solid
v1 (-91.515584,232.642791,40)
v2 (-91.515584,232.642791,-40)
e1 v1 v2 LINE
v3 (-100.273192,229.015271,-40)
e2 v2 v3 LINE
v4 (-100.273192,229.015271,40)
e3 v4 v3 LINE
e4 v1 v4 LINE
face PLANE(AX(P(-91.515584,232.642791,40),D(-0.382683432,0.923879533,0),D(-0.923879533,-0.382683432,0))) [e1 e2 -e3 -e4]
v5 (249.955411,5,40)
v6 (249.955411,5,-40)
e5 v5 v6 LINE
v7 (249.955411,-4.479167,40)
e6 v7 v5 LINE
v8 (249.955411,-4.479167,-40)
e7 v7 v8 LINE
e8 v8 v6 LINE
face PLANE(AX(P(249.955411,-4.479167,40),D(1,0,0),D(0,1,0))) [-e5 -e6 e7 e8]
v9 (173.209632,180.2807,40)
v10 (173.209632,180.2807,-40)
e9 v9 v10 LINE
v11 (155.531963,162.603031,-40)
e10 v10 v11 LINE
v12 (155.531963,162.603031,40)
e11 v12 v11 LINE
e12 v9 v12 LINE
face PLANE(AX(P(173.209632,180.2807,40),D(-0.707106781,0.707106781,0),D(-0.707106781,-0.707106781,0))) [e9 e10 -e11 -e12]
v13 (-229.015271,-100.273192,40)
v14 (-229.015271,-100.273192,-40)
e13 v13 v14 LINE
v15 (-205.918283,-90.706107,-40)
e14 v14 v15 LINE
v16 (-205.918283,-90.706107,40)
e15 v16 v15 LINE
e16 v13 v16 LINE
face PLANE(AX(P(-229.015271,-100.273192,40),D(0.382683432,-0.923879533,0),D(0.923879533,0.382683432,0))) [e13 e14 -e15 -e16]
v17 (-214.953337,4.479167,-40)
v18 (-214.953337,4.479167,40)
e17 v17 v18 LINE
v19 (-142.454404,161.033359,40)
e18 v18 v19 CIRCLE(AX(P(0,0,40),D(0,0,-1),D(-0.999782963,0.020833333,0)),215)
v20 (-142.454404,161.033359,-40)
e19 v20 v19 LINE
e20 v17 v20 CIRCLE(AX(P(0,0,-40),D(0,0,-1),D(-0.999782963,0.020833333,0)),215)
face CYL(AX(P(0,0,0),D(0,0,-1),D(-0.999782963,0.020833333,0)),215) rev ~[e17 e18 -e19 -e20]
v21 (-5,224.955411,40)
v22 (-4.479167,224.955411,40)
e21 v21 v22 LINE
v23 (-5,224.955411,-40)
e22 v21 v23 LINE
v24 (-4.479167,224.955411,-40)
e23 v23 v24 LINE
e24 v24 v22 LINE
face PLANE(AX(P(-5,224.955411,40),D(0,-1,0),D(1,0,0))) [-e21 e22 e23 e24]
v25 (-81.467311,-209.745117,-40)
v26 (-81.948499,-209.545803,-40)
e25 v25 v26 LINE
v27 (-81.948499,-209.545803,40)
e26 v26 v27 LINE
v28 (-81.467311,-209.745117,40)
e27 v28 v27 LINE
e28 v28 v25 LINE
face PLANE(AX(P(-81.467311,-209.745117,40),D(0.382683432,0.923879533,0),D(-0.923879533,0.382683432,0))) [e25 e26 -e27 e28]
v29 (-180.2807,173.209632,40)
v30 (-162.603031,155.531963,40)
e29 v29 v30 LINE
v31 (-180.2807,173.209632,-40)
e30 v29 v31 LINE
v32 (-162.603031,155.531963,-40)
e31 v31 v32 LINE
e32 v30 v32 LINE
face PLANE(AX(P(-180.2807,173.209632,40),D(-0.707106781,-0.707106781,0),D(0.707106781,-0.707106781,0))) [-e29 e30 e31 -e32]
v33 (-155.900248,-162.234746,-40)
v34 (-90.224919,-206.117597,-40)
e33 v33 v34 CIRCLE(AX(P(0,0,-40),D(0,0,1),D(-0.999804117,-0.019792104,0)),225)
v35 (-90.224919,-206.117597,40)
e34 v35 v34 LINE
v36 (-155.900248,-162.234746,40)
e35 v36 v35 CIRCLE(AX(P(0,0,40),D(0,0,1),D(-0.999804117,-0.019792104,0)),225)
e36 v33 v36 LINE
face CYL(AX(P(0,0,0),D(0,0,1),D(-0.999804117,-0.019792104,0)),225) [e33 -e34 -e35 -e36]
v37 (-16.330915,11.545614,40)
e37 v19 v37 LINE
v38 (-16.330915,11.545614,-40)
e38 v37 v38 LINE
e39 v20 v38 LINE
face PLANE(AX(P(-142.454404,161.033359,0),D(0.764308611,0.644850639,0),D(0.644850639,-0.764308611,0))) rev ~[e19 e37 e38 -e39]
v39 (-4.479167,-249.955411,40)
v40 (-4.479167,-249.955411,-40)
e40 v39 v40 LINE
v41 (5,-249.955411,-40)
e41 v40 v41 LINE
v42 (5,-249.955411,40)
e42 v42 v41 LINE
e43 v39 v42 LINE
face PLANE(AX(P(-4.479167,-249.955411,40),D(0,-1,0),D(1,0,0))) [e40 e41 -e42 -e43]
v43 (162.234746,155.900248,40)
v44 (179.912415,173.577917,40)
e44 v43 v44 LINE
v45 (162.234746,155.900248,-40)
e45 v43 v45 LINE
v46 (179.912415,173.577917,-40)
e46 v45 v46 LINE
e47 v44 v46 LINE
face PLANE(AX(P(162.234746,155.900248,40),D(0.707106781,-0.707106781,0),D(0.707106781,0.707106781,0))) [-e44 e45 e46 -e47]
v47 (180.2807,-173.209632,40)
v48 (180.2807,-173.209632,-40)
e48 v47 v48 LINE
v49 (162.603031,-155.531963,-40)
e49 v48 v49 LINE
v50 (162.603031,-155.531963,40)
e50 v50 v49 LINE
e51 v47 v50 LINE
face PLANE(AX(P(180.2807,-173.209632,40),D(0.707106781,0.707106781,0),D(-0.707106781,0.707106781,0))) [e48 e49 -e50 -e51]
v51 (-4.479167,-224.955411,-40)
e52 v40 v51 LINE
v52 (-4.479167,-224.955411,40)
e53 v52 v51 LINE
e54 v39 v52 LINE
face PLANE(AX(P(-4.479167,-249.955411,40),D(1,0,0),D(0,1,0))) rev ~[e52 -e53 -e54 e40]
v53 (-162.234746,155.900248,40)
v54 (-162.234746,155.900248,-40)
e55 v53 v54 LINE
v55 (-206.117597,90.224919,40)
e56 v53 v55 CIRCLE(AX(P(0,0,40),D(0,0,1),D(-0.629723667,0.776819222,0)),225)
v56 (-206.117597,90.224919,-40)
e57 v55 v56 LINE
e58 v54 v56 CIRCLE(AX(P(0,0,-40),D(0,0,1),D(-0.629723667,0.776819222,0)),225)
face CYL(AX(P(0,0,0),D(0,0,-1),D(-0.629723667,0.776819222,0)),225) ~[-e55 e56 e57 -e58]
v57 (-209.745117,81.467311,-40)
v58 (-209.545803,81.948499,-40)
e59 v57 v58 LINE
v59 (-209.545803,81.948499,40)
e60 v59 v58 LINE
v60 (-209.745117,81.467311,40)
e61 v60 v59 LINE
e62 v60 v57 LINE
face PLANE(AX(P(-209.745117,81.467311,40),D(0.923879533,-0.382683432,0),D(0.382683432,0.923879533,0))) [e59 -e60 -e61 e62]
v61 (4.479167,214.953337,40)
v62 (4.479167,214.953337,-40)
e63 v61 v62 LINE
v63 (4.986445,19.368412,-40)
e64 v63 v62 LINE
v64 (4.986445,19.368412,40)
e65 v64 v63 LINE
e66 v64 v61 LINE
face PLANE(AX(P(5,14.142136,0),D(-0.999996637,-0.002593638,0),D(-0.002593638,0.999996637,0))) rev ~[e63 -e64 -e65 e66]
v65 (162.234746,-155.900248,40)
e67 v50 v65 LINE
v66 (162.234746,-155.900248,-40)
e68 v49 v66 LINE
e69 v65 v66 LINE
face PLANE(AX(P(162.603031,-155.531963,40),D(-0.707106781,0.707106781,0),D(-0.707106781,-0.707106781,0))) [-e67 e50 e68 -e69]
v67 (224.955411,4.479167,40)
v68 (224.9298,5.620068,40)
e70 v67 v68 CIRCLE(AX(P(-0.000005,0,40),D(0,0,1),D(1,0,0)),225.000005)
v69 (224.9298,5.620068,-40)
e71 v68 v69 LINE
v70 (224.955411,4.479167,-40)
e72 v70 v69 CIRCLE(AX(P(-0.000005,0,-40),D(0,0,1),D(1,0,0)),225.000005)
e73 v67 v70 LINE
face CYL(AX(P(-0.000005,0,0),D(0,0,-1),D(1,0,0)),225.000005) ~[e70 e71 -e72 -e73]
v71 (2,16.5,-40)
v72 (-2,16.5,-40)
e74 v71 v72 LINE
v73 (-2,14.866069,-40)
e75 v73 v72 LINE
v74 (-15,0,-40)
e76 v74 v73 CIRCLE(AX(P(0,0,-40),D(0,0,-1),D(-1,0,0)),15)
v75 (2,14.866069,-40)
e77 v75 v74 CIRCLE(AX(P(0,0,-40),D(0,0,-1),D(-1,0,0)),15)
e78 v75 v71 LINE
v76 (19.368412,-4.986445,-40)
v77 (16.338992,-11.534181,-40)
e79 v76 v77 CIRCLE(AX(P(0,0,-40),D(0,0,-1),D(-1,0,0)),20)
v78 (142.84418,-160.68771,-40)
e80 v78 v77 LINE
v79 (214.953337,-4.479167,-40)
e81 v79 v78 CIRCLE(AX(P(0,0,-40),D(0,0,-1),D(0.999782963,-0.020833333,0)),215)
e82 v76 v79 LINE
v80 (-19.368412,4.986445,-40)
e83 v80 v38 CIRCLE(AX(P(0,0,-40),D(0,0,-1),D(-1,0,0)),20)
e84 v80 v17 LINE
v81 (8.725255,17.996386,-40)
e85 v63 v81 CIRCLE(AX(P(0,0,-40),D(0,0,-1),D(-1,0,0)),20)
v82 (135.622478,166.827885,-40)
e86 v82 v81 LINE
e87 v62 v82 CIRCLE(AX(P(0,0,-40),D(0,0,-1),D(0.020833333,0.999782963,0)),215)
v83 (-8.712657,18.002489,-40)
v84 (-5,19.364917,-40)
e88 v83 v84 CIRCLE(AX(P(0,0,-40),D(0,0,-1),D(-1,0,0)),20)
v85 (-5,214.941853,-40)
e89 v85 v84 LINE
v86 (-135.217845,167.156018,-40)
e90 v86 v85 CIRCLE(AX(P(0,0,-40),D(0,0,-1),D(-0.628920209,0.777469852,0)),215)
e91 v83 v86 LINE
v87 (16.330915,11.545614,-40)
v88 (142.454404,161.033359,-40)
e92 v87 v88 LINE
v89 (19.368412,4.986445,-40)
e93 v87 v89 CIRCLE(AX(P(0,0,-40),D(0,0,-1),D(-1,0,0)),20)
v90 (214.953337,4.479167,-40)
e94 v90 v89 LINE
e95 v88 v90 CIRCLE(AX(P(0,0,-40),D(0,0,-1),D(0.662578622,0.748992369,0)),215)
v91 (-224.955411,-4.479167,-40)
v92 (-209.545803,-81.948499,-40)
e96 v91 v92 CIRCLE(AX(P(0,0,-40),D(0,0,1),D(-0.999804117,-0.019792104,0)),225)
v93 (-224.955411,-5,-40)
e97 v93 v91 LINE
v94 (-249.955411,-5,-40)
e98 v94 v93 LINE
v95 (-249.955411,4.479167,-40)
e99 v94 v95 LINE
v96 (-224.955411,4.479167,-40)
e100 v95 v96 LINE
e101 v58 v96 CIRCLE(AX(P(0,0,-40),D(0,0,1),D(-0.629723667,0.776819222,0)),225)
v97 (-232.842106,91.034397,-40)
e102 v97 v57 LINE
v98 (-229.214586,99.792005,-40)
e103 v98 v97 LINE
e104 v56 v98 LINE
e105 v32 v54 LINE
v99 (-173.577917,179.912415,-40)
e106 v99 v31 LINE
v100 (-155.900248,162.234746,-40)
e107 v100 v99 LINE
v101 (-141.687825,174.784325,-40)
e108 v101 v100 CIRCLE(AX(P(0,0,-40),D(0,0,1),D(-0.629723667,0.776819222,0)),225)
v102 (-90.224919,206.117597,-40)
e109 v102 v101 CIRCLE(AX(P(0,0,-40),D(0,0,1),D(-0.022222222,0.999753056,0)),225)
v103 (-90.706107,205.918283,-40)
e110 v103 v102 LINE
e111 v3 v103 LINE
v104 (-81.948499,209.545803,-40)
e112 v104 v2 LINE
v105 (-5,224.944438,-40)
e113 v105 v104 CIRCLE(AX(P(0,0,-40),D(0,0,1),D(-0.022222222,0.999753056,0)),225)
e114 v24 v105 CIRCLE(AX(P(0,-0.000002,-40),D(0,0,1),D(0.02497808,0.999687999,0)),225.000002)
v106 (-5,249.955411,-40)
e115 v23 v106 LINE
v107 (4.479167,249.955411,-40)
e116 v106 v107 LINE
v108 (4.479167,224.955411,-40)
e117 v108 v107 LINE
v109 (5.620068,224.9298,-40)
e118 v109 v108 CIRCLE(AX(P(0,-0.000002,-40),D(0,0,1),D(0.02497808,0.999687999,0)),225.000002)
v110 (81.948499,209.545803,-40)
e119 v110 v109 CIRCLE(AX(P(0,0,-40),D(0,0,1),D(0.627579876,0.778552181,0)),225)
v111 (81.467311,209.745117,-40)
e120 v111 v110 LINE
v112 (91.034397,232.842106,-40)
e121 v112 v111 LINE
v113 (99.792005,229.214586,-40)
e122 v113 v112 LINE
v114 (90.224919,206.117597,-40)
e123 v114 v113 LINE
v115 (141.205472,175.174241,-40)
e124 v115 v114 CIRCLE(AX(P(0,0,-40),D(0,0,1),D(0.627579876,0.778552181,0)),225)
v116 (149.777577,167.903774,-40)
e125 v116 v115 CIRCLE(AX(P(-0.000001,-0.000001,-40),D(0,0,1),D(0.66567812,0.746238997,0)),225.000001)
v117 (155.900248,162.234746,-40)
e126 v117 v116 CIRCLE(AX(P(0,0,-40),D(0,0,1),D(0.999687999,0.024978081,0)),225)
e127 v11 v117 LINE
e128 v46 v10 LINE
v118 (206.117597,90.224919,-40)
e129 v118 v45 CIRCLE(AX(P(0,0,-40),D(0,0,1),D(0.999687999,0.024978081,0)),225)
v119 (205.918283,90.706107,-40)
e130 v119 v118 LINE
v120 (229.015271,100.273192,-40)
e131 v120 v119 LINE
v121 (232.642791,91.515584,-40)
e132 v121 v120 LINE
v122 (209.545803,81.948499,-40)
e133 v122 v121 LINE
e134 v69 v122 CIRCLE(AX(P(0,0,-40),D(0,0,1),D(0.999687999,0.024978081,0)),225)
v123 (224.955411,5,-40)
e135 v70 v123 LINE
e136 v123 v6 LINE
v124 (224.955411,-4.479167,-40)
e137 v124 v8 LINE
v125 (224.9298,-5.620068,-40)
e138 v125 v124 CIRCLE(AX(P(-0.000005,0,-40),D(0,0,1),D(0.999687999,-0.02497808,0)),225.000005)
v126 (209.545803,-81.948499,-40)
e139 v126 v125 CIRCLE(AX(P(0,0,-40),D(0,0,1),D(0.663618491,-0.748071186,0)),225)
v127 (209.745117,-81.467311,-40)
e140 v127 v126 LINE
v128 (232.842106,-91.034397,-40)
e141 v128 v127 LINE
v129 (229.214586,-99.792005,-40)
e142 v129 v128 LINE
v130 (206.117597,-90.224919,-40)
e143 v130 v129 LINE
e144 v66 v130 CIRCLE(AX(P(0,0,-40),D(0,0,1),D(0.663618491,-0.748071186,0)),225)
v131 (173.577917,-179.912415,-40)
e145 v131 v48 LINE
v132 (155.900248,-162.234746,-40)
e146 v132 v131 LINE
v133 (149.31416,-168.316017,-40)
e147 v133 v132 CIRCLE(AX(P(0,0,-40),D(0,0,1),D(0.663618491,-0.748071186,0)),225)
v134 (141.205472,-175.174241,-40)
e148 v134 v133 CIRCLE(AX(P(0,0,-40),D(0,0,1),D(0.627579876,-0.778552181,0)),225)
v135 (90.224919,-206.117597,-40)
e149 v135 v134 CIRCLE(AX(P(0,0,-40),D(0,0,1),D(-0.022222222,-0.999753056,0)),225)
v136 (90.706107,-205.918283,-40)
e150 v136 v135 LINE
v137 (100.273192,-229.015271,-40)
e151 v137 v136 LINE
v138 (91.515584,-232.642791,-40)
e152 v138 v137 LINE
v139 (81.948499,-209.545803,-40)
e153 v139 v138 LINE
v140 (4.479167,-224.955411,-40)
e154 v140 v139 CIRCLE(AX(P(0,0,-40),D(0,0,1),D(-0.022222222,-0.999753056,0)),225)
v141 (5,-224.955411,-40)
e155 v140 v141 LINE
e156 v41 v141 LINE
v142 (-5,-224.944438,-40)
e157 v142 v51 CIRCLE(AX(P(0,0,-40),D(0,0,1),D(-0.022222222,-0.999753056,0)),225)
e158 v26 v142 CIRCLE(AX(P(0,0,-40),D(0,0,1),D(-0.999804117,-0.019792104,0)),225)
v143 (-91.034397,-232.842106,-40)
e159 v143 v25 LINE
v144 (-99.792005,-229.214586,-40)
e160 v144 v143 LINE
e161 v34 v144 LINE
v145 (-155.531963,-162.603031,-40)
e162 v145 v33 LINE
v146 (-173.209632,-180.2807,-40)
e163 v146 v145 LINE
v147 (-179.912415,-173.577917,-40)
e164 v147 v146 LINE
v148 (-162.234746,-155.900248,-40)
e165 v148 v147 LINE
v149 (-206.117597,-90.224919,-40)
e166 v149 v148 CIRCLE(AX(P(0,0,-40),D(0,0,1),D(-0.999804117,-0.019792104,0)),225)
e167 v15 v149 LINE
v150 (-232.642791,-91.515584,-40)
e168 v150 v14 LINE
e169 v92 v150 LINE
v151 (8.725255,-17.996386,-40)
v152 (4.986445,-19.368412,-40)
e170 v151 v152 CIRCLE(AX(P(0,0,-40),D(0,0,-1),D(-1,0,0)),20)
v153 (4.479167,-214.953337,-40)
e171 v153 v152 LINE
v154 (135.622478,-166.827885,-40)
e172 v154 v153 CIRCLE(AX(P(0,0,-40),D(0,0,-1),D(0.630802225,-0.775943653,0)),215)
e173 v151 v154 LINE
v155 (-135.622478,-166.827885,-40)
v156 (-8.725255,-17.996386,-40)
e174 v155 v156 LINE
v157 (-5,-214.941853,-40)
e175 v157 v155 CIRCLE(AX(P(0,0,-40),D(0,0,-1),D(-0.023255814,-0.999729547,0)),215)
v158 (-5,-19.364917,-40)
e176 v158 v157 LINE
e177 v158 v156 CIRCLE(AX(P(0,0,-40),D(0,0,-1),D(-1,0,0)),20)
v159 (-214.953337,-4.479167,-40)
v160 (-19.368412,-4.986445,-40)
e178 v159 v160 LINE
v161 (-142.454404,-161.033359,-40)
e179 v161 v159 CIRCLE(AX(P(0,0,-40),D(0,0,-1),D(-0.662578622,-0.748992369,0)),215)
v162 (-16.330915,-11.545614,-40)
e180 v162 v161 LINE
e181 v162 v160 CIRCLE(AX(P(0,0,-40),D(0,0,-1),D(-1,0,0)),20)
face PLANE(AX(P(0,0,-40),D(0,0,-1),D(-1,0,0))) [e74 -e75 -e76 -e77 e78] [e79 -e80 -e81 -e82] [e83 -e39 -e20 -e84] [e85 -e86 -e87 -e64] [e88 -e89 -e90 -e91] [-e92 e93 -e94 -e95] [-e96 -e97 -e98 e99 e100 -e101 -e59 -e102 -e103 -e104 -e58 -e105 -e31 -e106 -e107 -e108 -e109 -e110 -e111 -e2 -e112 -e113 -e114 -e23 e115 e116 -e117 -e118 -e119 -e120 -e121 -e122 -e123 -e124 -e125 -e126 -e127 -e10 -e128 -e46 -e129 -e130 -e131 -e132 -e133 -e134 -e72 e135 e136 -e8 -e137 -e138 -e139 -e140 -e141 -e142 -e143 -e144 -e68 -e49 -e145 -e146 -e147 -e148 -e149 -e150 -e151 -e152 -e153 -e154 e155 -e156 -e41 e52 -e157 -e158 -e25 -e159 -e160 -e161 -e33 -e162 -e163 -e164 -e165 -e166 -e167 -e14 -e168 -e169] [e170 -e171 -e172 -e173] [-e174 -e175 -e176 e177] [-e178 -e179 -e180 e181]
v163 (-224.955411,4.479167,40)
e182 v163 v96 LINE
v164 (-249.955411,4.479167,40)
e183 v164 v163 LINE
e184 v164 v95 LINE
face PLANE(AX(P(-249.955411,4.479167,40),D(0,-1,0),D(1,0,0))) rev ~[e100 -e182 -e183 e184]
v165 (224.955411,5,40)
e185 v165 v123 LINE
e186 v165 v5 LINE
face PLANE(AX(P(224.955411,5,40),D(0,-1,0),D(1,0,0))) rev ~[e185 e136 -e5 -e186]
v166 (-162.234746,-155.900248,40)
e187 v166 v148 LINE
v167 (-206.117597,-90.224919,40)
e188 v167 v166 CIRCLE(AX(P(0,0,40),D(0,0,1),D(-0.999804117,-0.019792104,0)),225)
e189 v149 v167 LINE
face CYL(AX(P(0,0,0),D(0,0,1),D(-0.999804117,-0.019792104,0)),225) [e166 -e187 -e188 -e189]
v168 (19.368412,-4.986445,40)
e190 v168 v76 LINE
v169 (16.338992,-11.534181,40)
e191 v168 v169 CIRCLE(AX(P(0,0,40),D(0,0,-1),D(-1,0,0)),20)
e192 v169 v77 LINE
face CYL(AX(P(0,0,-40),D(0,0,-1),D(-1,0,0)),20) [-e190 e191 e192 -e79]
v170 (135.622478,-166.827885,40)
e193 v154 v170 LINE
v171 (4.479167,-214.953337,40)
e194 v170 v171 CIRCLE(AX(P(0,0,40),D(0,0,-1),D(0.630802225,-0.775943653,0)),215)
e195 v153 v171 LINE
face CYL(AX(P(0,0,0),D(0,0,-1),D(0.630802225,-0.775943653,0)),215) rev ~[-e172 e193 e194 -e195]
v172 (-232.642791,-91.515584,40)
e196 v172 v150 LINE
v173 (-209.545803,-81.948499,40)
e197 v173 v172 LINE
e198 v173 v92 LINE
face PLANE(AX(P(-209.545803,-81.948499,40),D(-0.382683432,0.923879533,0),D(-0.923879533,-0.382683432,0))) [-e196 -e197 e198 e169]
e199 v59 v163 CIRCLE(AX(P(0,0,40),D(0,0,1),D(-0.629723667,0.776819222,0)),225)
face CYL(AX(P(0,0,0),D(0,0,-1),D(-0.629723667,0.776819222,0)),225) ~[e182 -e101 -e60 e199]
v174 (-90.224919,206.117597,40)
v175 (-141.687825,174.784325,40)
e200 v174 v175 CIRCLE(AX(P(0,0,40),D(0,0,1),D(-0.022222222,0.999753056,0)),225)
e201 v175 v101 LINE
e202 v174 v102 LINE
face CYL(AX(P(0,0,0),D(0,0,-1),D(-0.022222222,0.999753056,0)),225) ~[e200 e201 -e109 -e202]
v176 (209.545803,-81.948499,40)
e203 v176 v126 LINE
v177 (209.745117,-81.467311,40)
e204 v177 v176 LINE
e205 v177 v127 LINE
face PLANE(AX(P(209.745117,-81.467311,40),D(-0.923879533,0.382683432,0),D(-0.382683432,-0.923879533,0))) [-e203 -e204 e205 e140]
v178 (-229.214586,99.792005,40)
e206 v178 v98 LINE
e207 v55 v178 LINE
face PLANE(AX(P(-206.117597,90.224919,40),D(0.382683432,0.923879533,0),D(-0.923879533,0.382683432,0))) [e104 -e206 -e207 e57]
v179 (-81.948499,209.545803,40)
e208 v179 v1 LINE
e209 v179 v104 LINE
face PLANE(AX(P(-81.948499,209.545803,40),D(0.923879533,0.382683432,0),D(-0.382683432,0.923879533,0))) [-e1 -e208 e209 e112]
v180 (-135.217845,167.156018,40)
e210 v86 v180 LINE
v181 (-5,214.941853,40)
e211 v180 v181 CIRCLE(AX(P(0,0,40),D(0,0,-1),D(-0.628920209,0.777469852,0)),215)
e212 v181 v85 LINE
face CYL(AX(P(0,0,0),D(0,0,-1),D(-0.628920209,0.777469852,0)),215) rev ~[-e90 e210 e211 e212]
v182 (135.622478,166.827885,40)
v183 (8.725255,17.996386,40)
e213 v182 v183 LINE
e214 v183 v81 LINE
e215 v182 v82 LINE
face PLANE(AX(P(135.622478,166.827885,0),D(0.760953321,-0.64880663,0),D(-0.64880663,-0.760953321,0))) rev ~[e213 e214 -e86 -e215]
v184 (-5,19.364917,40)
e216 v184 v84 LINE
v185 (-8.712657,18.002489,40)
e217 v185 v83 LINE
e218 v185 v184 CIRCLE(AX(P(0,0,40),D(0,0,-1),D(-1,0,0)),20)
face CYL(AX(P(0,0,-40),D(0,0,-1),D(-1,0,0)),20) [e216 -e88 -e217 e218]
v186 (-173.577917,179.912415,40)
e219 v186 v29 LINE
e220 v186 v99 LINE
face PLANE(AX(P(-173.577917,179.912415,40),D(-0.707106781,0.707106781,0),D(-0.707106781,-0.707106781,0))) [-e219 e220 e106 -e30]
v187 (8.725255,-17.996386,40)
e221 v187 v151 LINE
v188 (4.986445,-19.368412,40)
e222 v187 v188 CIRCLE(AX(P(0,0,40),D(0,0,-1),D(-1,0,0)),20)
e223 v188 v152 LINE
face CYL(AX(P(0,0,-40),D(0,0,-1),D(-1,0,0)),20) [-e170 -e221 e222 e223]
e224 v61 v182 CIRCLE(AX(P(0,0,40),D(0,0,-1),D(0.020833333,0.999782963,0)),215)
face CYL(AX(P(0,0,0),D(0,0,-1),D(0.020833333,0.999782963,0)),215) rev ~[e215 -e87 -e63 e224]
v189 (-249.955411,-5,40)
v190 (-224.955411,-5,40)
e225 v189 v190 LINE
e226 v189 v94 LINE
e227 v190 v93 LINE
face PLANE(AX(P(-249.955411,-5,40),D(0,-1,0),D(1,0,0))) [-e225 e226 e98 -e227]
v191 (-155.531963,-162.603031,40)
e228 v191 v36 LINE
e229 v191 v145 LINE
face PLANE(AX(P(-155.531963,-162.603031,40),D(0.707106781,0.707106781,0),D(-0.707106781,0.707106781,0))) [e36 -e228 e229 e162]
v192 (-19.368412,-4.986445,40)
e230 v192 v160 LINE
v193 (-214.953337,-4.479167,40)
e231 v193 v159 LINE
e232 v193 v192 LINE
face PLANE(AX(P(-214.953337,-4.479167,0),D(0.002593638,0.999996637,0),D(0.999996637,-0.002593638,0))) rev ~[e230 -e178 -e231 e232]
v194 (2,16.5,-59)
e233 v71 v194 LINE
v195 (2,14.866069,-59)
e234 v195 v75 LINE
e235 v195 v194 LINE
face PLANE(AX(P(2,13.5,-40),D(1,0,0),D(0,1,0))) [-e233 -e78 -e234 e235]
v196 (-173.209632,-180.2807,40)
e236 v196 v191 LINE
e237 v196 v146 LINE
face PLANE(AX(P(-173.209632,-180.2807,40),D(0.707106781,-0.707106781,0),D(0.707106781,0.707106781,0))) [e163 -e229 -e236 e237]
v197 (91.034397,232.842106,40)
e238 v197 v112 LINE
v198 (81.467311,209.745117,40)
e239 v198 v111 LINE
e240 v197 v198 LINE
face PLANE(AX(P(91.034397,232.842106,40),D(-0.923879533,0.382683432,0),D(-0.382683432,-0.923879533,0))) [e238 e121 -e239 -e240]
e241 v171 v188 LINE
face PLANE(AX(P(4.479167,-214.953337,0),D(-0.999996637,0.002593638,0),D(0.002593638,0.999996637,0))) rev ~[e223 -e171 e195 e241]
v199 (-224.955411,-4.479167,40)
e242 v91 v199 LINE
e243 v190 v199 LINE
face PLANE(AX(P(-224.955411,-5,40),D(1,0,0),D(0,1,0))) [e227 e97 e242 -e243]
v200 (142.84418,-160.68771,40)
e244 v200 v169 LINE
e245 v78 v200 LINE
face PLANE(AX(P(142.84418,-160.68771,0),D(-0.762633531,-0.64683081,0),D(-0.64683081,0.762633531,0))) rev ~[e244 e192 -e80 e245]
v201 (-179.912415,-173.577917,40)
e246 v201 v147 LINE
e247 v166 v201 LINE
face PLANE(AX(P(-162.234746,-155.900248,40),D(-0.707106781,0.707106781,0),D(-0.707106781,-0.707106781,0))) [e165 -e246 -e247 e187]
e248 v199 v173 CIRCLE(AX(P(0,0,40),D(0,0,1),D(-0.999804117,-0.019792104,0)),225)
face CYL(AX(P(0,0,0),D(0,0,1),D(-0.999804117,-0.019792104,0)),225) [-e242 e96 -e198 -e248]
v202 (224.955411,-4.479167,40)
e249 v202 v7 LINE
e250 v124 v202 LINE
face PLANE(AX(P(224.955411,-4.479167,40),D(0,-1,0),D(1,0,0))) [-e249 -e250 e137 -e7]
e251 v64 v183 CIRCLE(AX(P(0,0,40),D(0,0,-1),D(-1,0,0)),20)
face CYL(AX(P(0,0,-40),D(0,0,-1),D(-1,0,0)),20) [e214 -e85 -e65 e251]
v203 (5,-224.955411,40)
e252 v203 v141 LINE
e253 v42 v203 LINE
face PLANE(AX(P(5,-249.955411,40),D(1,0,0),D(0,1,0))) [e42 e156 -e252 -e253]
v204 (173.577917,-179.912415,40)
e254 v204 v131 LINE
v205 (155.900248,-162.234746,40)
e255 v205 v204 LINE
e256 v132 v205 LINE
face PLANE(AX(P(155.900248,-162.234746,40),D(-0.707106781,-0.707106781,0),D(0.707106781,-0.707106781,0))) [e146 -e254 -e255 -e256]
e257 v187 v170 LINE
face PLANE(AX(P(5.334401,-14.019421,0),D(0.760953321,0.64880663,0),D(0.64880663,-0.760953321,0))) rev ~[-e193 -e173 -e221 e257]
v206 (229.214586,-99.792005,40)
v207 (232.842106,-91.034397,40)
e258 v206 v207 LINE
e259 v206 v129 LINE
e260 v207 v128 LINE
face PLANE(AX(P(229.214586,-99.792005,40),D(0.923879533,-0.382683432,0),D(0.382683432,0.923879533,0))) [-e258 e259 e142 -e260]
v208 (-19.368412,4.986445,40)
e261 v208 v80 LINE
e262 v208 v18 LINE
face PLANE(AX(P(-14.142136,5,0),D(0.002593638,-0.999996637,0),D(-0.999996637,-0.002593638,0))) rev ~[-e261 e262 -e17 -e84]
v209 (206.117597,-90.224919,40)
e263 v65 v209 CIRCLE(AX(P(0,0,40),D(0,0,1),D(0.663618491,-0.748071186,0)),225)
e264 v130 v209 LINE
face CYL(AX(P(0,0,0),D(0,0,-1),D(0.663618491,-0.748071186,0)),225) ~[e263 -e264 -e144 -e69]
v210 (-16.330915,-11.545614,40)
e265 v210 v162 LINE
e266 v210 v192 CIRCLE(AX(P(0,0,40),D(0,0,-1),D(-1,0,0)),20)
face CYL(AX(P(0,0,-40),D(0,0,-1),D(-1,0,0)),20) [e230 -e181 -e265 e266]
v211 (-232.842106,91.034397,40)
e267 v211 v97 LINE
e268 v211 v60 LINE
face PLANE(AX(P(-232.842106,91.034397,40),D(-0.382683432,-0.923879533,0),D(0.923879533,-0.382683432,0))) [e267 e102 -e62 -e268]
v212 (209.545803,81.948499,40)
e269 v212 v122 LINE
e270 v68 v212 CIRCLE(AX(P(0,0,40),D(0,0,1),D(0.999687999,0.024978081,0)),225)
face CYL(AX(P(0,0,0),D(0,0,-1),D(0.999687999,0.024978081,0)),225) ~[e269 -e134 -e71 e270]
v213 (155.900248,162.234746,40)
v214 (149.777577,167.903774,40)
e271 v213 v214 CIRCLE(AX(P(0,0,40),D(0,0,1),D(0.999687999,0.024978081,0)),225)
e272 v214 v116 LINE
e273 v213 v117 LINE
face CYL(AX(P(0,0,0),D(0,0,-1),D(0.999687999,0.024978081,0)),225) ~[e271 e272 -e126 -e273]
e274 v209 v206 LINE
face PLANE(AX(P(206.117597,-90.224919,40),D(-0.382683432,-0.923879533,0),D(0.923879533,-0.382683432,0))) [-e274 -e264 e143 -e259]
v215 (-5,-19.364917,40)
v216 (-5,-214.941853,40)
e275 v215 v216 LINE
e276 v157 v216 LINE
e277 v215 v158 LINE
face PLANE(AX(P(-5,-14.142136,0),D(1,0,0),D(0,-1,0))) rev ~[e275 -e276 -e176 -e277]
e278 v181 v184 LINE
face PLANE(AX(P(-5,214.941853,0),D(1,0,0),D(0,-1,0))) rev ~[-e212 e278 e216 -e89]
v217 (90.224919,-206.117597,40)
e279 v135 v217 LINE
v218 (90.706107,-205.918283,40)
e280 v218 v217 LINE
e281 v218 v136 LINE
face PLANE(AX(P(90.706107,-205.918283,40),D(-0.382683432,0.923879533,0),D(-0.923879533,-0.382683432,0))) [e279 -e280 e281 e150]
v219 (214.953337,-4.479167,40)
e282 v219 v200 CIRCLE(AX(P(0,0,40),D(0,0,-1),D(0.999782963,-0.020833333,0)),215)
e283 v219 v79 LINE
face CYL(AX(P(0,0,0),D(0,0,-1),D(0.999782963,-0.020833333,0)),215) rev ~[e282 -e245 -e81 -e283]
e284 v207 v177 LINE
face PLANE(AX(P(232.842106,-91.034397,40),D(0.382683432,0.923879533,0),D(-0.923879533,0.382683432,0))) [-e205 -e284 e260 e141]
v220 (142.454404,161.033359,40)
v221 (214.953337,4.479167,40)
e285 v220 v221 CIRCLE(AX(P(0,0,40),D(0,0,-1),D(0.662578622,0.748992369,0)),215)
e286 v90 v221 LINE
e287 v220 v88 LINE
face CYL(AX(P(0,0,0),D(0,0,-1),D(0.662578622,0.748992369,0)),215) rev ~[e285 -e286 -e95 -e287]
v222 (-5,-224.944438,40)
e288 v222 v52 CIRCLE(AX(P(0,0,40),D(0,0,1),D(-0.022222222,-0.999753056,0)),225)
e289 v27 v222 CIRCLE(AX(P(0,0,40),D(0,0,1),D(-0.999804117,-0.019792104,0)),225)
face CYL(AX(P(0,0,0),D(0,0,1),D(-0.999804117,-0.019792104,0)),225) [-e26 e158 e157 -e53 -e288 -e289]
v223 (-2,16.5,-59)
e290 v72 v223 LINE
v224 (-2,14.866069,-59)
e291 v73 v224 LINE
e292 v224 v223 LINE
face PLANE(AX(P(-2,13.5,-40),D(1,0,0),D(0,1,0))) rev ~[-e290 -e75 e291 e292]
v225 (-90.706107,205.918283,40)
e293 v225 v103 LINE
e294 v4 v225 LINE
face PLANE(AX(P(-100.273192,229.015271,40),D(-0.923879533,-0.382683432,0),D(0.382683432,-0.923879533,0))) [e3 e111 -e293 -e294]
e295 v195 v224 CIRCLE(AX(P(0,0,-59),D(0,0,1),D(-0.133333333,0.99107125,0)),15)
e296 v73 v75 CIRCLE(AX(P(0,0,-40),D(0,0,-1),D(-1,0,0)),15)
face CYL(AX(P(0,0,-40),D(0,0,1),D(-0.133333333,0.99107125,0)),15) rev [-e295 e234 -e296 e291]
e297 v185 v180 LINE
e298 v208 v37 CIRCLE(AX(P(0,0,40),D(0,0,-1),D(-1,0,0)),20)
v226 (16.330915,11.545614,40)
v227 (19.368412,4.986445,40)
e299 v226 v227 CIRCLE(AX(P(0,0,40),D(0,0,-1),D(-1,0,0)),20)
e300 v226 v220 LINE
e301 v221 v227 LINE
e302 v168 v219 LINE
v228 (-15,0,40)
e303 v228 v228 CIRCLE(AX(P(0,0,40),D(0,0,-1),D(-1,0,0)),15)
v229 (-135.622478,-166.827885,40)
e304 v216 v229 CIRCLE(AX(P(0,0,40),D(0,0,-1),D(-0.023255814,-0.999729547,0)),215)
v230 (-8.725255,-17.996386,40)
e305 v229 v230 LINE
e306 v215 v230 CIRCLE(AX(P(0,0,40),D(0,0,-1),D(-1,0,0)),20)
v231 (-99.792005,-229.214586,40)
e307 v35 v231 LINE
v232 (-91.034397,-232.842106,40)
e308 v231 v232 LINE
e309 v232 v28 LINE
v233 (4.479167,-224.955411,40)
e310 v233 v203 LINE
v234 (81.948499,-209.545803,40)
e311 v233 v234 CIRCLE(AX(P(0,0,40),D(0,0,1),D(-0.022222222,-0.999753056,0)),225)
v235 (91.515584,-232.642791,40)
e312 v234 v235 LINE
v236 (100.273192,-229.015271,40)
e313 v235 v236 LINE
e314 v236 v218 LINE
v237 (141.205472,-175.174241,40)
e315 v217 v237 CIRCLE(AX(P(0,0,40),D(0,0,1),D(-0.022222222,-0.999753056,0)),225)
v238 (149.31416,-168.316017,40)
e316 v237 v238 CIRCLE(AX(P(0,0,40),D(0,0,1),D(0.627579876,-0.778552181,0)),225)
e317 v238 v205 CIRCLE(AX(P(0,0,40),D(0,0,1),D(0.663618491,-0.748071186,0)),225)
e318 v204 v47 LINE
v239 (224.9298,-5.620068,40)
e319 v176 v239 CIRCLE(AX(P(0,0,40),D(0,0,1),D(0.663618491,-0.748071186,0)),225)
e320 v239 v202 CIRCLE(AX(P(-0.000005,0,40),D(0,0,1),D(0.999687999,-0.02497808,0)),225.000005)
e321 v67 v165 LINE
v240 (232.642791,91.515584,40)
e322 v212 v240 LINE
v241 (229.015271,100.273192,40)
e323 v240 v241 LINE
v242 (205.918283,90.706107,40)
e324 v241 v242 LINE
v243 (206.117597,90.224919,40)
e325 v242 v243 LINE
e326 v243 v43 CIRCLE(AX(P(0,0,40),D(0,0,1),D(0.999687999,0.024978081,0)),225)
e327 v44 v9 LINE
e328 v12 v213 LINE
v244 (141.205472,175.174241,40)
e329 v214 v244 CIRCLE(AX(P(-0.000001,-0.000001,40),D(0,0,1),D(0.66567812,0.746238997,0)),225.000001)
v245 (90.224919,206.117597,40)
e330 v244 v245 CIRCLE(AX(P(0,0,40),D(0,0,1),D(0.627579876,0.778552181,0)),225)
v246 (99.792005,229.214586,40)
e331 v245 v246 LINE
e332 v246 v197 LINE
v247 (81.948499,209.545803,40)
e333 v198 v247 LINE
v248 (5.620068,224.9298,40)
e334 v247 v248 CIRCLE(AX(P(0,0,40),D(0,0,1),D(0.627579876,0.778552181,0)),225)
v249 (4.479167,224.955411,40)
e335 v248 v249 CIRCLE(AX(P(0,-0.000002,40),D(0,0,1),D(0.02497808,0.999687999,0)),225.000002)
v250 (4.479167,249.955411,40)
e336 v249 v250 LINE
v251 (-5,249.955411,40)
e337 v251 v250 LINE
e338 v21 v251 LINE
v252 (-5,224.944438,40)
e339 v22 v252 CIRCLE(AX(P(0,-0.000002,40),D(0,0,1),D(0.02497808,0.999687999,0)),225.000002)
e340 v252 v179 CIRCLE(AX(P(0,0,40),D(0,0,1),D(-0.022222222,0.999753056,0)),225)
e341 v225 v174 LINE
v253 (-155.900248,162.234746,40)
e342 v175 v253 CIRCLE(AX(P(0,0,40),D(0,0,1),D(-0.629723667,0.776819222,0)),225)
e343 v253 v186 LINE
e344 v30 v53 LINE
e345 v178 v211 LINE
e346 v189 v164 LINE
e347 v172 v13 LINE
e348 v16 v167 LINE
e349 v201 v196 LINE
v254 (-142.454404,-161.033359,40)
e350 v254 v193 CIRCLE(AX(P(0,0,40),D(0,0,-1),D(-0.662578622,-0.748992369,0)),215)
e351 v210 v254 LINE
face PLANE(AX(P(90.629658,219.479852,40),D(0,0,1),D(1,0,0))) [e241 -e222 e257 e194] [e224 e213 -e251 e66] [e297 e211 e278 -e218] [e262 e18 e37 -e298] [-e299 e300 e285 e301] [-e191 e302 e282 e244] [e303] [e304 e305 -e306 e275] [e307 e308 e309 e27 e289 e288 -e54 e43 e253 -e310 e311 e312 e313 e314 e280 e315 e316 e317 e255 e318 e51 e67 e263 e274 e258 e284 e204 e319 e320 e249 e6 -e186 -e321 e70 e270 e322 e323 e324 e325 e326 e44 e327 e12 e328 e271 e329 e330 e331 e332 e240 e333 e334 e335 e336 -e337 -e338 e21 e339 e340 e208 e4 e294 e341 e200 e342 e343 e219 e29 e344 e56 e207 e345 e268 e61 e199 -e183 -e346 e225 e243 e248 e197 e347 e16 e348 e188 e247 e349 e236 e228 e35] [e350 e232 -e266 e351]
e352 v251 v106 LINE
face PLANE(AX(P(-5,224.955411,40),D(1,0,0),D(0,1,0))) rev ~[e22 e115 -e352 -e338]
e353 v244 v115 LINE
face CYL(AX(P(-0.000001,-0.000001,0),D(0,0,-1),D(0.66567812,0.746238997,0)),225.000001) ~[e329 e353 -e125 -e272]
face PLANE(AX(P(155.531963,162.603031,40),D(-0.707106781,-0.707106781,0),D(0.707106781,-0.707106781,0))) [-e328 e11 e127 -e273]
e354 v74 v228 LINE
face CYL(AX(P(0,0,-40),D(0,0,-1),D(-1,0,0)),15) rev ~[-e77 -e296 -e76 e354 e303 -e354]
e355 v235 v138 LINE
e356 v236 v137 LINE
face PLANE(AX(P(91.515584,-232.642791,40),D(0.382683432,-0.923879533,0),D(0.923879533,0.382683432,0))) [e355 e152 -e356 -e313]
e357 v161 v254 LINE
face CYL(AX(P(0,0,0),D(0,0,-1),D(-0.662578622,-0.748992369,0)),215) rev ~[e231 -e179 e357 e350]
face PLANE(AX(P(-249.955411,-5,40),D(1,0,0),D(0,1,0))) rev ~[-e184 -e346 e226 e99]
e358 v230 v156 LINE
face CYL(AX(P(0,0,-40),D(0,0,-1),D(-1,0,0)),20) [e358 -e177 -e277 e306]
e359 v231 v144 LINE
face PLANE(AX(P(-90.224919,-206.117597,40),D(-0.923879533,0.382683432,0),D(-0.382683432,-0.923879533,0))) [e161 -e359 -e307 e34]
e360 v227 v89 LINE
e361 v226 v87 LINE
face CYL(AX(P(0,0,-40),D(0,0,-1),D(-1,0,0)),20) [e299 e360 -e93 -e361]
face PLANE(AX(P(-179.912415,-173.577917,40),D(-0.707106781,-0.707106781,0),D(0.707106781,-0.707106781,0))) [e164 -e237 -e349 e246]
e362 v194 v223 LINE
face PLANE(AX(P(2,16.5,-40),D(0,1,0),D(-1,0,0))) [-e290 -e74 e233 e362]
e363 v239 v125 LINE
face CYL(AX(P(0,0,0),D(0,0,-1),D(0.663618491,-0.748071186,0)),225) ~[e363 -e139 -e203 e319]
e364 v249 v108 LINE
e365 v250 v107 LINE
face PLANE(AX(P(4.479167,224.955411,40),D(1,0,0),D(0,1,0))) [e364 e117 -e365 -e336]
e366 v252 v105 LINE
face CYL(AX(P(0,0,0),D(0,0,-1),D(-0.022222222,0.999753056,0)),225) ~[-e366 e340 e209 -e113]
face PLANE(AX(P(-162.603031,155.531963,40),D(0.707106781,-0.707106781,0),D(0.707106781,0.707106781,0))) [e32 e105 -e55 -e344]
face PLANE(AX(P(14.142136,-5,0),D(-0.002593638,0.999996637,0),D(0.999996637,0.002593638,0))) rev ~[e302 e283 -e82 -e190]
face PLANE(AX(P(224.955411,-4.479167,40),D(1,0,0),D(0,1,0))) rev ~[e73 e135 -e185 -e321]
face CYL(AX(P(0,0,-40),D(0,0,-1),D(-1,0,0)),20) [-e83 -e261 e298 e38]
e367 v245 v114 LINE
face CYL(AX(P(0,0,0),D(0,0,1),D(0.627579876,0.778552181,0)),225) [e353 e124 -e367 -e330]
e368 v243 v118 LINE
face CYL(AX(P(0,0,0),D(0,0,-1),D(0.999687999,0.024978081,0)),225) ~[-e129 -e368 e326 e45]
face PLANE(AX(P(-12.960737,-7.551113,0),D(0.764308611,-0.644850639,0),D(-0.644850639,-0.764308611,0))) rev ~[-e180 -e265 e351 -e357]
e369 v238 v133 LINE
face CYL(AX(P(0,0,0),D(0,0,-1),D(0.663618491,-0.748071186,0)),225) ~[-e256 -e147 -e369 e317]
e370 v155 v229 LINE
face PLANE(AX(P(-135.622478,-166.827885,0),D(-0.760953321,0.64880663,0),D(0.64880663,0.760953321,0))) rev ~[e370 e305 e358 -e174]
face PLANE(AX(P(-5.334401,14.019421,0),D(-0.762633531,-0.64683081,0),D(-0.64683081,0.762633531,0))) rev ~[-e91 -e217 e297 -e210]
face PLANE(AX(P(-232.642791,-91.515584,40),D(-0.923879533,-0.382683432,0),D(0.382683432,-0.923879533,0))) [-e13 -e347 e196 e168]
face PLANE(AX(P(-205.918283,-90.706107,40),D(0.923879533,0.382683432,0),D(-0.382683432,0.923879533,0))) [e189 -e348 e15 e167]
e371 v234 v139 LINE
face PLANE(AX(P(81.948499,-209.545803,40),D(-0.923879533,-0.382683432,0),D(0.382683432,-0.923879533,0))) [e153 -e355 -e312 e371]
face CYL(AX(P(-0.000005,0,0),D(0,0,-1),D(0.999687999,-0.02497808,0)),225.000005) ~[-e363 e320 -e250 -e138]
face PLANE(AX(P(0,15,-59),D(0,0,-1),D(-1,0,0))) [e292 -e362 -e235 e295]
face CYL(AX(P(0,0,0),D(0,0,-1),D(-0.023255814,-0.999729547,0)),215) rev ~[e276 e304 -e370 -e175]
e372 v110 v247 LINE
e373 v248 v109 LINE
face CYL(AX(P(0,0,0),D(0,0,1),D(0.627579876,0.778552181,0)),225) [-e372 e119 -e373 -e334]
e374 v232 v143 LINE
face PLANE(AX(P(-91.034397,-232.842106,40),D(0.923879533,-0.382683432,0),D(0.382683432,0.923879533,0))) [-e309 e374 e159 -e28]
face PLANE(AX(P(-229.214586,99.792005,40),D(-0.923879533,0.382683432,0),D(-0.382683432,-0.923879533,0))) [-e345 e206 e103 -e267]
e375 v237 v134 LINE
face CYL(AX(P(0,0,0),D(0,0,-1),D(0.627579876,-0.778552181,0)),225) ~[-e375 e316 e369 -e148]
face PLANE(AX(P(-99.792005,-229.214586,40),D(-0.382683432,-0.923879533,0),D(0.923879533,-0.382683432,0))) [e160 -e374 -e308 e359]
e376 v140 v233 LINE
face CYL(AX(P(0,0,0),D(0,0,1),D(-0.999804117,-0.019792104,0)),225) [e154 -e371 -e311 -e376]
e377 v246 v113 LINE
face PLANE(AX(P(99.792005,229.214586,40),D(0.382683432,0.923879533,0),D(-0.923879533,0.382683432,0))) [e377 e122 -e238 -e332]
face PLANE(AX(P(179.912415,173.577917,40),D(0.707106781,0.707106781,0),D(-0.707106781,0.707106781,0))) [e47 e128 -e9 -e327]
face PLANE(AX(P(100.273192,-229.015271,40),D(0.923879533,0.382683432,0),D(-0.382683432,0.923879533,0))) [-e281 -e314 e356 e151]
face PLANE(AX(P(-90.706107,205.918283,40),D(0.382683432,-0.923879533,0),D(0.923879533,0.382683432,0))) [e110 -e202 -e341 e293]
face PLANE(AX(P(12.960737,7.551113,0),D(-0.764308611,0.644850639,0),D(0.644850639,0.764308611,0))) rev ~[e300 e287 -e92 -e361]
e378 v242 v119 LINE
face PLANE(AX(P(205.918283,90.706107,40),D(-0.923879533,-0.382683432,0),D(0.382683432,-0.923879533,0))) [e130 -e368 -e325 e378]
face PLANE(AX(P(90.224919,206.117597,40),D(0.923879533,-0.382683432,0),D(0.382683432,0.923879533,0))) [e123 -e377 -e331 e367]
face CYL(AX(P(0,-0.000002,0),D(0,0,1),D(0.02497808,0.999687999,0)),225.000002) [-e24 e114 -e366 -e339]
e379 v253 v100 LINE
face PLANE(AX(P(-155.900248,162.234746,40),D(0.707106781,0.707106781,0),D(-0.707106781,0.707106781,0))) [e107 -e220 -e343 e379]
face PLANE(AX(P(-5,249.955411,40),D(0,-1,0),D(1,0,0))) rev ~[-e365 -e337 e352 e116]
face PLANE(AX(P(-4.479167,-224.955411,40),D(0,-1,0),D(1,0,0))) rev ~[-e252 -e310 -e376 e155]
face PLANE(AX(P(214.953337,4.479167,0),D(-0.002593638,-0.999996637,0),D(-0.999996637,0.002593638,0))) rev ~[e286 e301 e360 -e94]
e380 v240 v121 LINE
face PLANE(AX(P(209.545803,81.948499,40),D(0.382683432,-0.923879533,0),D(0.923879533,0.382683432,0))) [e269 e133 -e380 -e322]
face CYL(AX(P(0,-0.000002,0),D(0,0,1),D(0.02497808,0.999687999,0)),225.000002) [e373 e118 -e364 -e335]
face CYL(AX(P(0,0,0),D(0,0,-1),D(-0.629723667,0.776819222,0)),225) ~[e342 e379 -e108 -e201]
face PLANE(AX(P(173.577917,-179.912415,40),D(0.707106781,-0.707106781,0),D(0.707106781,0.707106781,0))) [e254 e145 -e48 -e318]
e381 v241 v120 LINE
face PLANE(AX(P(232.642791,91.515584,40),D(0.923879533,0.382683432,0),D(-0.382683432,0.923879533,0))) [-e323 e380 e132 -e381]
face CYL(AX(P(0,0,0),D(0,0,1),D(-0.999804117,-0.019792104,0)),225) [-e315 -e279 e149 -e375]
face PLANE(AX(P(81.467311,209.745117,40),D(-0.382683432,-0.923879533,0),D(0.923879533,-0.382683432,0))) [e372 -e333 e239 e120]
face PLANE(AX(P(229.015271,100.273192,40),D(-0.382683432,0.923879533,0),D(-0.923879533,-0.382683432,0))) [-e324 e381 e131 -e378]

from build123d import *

# Parameters (mm, degrees)
SALIENTE_EXTRUIR1_DEPTH = 40
CROQUIS2_W              = 9.479166667
CROQUIS2_H              = 25
CROQUIS2_W_2            = 25
CROQUIS2_H_2            = 9.479166667
SALIENTE_EXTRUIR2_DEPTH = 80
CROQUIS3_R              = 20
SALIENTE_EXTRUIR3_DEPTH = 80
CROQUIS4_R              = 15
CORTAR_EXTRUIR1_DEPTH   = 80
CROQUIS8_W              = 4
CROQUIS8_H              = 3
SALIENTE_EXTRUIR4_DEPTH = 19
CROQUIS9_R              = 15
CORTAR_EXTRUIR3_DEPTH   = 363.429876335


with BuildPart() as part:
    # Croquis1 → Saliente-Extruir1 (new, symmetric)
    with BuildSketch(Plane.XY):
        with BuildLine():
            ThreePointArc((-224.955926351, -4.453223482), (-159.292265632, -158.90555091), (-5, -224.944437584))
            ThreePointArc((-5, -224.944437584), (72.506901641, -212.997063863), (141.205472177, -175.174240764))
            ThreePointArc((141.205472177, -175.174240764), (145.300285764, -171.79297703), (149.31416044, -168.316016742))
            ThreePointArc((149.31416044, -168.316016742), (204.039526473, -94.83075259), (224.929799791, -5.620068165))
            ThreePointArc((224.929799791, -5.620068165), (224.982449263, -2.810253291), (225, 0))
            ThreePointArc((225, 0), (224.982449263, 2.810253291), (224.929799791, 5.620068165))
            ThreePointArc((224.929799791, 5.620068165), (204.170039134, 94.549432151), (149.777577039, 167.903774277))
            ThreePointArc((149.777577039, 167.903774277), (145.536932266, 171.592544554), (141.205472177, 175.174240764))
            ThreePointArc((141.205472177, 175.174240764), (77.513474556, 211.226563818), (5.620068165, 224.929799791))
            ThreePointArc((5.620068165, 224.929799791), (0.310120458, 224.999786278), (-5, 224.944437584))
            ThreePointArc((-5, 224.944437584), (-77.513474556, 211.226563818), (-141.687825127, 174.784324843))
            ThreePointArc((-141.687825127, 174.784324843), (-202.138767057, 98.817603962), (-224.955926351, 4.453223482))
            ThreePointArc((-224.955926351, 4.453223482), (-225, 0), (-224.955926351, -4.453223482))
        make_face()
        with BuildLine():
            ThreePointArc((-5, -214.941852602), (-74.312911497, -201.748831929), (-135.622478375, -166.827885437))
            Line((-135.622478375, -166.827885437), (-5.334401385, -14.019420882))
            ThreePointArc((-5.334401385, -14.019420882), (-5.16756497, -14.081770921), (-5, -14.142135624))
            Line((-5, -14.142135624), (-5, -214.941852602))
        make_face(mode=Mode.SUBTRACT)
        with BuildLine():
            Line((-12.960736698, -7.551112781), (-142.45440376, -161.033359431))
            ThreePointArc((-142.45440376, -161.033359431), (-195.095815172, -90.347235166), (-214.95333695, -4.479166667))
            Line((-214.95333695, -4.479166667), (-14.142135624, -5))
            ThreePointArc((-14.142135624, -5), (-13.611335942, -6.303295477), (-12.960736698, -7.551112781))
        make_face(mode=Mode.SUBTRACT)
        with BuildLine():
            ThreePointArc((135.622478375, -166.827885437), (74.068431242, -201.838716537), (4.479166667, -214.95333695))
            Line((4.479166667, -214.95333695), (5, -14.142135624))
            ThreePointArc((5, -14.142135624), (5.16756497, -14.081770921), (5.334401385, -14.019420882))
            Line((5.334401385, -14.019420882), (135.622478375, -166.827885437))
        make_face(mode=Mode.SUBTRACT)
        with BuildLine():
            Line((142.844180294, -160.687710035), (12.960736698, -7.551112781))
            ThreePointArc((12.960736698, -7.551112781), (13.611335942, -6.303295477), (14.142135624, -5))
            Line((14.142135624, -5), (214.95333695, -4.479166667))
            ThreePointArc((214.95333695, -4.479166667), (195.205130803, -90.110803505), (142.844180294, -160.687710035))
        make_face(mode=Mode.SUBTRACT)
        with BuildLine():
            ThreePointArc((-214.95333695, 4.479166667), (-195.095815172, 90.347235166), (-142.45440376, 161.033359431))
            Line((-142.45440376, 161.033359431), (-12.960736698, 7.551112781))
            ThreePointArc((-12.960736698, 7.551112781), (-13.611335942, 6.303295477), (-14.142135624, 5))
            Line((-14.142135624, 5), (-214.95333695, 4.479166667))
        make_face(mode=Mode.SUBTRACT)
        with BuildLine():
            Line((-5.334401385, 14.019420882), (-135.21784498, 167.156018135))
            ThreePointArc((-135.21784498, 167.156018135), (-74.068431242, 201.838716537), (-5, 214.941852602))
            Line((-5, 214.941852602), (-5, 14.142135624))
            ThreePointArc((-5, 14.142135624), (-5.16756497, 14.081770921), (-5.334401385, 14.019420882))
        make_face(mode=Mode.SUBTRACT)
        with BuildLine():
            Line((214.95333695, 4.479166667), (14.142135624, 5))
            ThreePointArc((14.142135624, 5), (13.611335942, 6.303295477), (12.960736698, 7.551112781))
            Line((12.960736698, 7.551112781), (142.45440376, 161.033359431))
            ThreePointArc((142.45440376, 161.033359431), (195.095815172, 90.347235166), (214.95333695, 4.479166667))
        make_face(mode=Mode.SUBTRACT)
        with BuildLine():
            ThreePointArc((5.334401385, 14.019420882), (5.16756497, 14.081770921), (5, 14.142135624))
            Line((5, 14.142135624), (4.479166667, 214.95333695))
            ThreePointArc((4.479166667, 214.95333695), (74.068431242, 201.838716537), (135.622478375, 166.827885437))
            Line((135.622478375, 166.827885437), (5.334401385, 14.019420882))
        make_face(mode=Mode.SUBTRACT)
    extrude(amount=SALIENTE_EXTRUIR1_DEPTH, both=True)

    # Croquis2 → Saliente-Extruir2 (add)
    with BuildSketch(Plane.XY.offset(40)):
        Polygon((90.224919325, 206.117597339), (99.792005134, 229.214585652), (91.034397066, 232.842105688), (81.467311257, 209.745117375), align=None)
        with Locations((-0.260416666, 237.455411284)):
            Rectangle(CROQUIS2_W, CROQUIS2_H)
        Polygon((162.234745908, 155.900247659), (179.912415437, 173.577917189), (173.209632407, 180.280700219), (155.531962878, 162.603030689), align=None)
        Polygon((209.545803087, 81.948498513), (232.6427914, 91.515584322), (229.015271364, 100.273192391), (205.918283051, 90.706106582), align=None)
        with Locations((237.455411284, 0.260416666)):
            Rectangle(CROQUIS2_W_2, CROQUIS2_H_2)
        Polygon((206.117597339, -90.224919325), (229.214585652, -99.792005134), (232.842105688, -91.034397066), (209.745117375, -81.467311257), align=None)
        Polygon((155.90024766, -162.234745908), (173.577917189, -179.912415437), (180.280700219, -173.209632407), (162.603030689, -155.531962878), align=None)
        Polygon((81.948498513, -209.545803087), (91.515584322, -232.6427914), (100.273192391, -229.015271364), (90.706106582, -205.918283051), align=None)
        with Locations((0.260416666, -237.455411284)):
            Rectangle(CROQUIS2_W, CROQUIS2_H)
        Polygon((-90.224919325, -206.117597339), (-99.792005134, -229.214585652), (-91.034397066, -232.842105688), (-81.467311257, -209.745117375), align=None)
        Polygon((-162.234745908, -155.900247659), (-179.912415437, -173.577917189), (-173.209632407, -180.280700219), (-155.531962878, -162.603030689), align=None)
        Polygon((-209.545803087, -81.948498513), (-232.6427914, -91.515584322), (-229.015271364, -100.273192391), (-205.918283051, -90.706106582), align=None)
        with Locations((-237.455411284, -0.260416666)):
            Rectangle(CROQUIS2_W_2, CROQUIS2_H_2)
        Polygon((-206.117597339, 90.224919325), (-229.214585652, 99.792005134), (-232.842105688, 91.034397066), (-209.745117375, 81.467311257), align=None)
        Polygon((-155.900247659, 162.234745908), (-173.577917189, 179.912415437), (-180.280700219, 173.209632407), (-162.603030689, 155.531962878), align=None)
        Polygon((-81.948498513, 209.545803087), (-91.515584322, 232.6427914), (-100.273192391, 229.015271364), (-90.706106582, 205.918283051), align=None)
    extrude(amount=-SALIENTE_EXTRUIR2_DEPTH)

    # Croquis3 → Saliente-Extruir3 (add)
    with BuildSketch(Plane(origin=(0, 0, -40), x_dir=(-1, 0, 0), z_dir=(0, 0, -1))):
        Circle(CROQUIS3_R)
    extrude(amount=-SALIENTE_EXTRUIR3_DEPTH)

    # Croquis4 → Cortar-Extruir1 (cut)
    with BuildSketch(Plane(origin=(0, 0, -40), x_dir=(-1, 0, 0), z_dir=(0, 0, -1))):
        Circle(CROQUIS4_R)
    extrude(amount=-CORTAR_EXTRUIR1_DEPTH, mode=Mode.SUBTRACT)

    # Croquis8 → Saliente-Extruir4 (add)
    with BuildSketch(Plane(origin=(0, 0, -40), x_dir=(-1, 0, 0), z_dir=(0, 0, -1))):
        with Locations((0, 15)):
            Rectangle(CROQUIS8_W, CROQUIS8_H)
    extrude(amount=SALIENTE_EXTRUIR4_DEPTH)

    # Croquis9 → Cortar-Extruir3 (cut, through all)
    with BuildSketch(Plane(origin=(0, 0, -40), x_dir=(-1, 0, 0), z_dir=(0, 0, -1))):
        with Locations(Location((0, 0, 0), (0, 0, 82.337744339))):
            Circle(CROQUIS9_R)
    extrude(amount=CORTAR_EXTRUIR3_DEPTH, mode=Mode.SUBTRACT)


solid = part.part
